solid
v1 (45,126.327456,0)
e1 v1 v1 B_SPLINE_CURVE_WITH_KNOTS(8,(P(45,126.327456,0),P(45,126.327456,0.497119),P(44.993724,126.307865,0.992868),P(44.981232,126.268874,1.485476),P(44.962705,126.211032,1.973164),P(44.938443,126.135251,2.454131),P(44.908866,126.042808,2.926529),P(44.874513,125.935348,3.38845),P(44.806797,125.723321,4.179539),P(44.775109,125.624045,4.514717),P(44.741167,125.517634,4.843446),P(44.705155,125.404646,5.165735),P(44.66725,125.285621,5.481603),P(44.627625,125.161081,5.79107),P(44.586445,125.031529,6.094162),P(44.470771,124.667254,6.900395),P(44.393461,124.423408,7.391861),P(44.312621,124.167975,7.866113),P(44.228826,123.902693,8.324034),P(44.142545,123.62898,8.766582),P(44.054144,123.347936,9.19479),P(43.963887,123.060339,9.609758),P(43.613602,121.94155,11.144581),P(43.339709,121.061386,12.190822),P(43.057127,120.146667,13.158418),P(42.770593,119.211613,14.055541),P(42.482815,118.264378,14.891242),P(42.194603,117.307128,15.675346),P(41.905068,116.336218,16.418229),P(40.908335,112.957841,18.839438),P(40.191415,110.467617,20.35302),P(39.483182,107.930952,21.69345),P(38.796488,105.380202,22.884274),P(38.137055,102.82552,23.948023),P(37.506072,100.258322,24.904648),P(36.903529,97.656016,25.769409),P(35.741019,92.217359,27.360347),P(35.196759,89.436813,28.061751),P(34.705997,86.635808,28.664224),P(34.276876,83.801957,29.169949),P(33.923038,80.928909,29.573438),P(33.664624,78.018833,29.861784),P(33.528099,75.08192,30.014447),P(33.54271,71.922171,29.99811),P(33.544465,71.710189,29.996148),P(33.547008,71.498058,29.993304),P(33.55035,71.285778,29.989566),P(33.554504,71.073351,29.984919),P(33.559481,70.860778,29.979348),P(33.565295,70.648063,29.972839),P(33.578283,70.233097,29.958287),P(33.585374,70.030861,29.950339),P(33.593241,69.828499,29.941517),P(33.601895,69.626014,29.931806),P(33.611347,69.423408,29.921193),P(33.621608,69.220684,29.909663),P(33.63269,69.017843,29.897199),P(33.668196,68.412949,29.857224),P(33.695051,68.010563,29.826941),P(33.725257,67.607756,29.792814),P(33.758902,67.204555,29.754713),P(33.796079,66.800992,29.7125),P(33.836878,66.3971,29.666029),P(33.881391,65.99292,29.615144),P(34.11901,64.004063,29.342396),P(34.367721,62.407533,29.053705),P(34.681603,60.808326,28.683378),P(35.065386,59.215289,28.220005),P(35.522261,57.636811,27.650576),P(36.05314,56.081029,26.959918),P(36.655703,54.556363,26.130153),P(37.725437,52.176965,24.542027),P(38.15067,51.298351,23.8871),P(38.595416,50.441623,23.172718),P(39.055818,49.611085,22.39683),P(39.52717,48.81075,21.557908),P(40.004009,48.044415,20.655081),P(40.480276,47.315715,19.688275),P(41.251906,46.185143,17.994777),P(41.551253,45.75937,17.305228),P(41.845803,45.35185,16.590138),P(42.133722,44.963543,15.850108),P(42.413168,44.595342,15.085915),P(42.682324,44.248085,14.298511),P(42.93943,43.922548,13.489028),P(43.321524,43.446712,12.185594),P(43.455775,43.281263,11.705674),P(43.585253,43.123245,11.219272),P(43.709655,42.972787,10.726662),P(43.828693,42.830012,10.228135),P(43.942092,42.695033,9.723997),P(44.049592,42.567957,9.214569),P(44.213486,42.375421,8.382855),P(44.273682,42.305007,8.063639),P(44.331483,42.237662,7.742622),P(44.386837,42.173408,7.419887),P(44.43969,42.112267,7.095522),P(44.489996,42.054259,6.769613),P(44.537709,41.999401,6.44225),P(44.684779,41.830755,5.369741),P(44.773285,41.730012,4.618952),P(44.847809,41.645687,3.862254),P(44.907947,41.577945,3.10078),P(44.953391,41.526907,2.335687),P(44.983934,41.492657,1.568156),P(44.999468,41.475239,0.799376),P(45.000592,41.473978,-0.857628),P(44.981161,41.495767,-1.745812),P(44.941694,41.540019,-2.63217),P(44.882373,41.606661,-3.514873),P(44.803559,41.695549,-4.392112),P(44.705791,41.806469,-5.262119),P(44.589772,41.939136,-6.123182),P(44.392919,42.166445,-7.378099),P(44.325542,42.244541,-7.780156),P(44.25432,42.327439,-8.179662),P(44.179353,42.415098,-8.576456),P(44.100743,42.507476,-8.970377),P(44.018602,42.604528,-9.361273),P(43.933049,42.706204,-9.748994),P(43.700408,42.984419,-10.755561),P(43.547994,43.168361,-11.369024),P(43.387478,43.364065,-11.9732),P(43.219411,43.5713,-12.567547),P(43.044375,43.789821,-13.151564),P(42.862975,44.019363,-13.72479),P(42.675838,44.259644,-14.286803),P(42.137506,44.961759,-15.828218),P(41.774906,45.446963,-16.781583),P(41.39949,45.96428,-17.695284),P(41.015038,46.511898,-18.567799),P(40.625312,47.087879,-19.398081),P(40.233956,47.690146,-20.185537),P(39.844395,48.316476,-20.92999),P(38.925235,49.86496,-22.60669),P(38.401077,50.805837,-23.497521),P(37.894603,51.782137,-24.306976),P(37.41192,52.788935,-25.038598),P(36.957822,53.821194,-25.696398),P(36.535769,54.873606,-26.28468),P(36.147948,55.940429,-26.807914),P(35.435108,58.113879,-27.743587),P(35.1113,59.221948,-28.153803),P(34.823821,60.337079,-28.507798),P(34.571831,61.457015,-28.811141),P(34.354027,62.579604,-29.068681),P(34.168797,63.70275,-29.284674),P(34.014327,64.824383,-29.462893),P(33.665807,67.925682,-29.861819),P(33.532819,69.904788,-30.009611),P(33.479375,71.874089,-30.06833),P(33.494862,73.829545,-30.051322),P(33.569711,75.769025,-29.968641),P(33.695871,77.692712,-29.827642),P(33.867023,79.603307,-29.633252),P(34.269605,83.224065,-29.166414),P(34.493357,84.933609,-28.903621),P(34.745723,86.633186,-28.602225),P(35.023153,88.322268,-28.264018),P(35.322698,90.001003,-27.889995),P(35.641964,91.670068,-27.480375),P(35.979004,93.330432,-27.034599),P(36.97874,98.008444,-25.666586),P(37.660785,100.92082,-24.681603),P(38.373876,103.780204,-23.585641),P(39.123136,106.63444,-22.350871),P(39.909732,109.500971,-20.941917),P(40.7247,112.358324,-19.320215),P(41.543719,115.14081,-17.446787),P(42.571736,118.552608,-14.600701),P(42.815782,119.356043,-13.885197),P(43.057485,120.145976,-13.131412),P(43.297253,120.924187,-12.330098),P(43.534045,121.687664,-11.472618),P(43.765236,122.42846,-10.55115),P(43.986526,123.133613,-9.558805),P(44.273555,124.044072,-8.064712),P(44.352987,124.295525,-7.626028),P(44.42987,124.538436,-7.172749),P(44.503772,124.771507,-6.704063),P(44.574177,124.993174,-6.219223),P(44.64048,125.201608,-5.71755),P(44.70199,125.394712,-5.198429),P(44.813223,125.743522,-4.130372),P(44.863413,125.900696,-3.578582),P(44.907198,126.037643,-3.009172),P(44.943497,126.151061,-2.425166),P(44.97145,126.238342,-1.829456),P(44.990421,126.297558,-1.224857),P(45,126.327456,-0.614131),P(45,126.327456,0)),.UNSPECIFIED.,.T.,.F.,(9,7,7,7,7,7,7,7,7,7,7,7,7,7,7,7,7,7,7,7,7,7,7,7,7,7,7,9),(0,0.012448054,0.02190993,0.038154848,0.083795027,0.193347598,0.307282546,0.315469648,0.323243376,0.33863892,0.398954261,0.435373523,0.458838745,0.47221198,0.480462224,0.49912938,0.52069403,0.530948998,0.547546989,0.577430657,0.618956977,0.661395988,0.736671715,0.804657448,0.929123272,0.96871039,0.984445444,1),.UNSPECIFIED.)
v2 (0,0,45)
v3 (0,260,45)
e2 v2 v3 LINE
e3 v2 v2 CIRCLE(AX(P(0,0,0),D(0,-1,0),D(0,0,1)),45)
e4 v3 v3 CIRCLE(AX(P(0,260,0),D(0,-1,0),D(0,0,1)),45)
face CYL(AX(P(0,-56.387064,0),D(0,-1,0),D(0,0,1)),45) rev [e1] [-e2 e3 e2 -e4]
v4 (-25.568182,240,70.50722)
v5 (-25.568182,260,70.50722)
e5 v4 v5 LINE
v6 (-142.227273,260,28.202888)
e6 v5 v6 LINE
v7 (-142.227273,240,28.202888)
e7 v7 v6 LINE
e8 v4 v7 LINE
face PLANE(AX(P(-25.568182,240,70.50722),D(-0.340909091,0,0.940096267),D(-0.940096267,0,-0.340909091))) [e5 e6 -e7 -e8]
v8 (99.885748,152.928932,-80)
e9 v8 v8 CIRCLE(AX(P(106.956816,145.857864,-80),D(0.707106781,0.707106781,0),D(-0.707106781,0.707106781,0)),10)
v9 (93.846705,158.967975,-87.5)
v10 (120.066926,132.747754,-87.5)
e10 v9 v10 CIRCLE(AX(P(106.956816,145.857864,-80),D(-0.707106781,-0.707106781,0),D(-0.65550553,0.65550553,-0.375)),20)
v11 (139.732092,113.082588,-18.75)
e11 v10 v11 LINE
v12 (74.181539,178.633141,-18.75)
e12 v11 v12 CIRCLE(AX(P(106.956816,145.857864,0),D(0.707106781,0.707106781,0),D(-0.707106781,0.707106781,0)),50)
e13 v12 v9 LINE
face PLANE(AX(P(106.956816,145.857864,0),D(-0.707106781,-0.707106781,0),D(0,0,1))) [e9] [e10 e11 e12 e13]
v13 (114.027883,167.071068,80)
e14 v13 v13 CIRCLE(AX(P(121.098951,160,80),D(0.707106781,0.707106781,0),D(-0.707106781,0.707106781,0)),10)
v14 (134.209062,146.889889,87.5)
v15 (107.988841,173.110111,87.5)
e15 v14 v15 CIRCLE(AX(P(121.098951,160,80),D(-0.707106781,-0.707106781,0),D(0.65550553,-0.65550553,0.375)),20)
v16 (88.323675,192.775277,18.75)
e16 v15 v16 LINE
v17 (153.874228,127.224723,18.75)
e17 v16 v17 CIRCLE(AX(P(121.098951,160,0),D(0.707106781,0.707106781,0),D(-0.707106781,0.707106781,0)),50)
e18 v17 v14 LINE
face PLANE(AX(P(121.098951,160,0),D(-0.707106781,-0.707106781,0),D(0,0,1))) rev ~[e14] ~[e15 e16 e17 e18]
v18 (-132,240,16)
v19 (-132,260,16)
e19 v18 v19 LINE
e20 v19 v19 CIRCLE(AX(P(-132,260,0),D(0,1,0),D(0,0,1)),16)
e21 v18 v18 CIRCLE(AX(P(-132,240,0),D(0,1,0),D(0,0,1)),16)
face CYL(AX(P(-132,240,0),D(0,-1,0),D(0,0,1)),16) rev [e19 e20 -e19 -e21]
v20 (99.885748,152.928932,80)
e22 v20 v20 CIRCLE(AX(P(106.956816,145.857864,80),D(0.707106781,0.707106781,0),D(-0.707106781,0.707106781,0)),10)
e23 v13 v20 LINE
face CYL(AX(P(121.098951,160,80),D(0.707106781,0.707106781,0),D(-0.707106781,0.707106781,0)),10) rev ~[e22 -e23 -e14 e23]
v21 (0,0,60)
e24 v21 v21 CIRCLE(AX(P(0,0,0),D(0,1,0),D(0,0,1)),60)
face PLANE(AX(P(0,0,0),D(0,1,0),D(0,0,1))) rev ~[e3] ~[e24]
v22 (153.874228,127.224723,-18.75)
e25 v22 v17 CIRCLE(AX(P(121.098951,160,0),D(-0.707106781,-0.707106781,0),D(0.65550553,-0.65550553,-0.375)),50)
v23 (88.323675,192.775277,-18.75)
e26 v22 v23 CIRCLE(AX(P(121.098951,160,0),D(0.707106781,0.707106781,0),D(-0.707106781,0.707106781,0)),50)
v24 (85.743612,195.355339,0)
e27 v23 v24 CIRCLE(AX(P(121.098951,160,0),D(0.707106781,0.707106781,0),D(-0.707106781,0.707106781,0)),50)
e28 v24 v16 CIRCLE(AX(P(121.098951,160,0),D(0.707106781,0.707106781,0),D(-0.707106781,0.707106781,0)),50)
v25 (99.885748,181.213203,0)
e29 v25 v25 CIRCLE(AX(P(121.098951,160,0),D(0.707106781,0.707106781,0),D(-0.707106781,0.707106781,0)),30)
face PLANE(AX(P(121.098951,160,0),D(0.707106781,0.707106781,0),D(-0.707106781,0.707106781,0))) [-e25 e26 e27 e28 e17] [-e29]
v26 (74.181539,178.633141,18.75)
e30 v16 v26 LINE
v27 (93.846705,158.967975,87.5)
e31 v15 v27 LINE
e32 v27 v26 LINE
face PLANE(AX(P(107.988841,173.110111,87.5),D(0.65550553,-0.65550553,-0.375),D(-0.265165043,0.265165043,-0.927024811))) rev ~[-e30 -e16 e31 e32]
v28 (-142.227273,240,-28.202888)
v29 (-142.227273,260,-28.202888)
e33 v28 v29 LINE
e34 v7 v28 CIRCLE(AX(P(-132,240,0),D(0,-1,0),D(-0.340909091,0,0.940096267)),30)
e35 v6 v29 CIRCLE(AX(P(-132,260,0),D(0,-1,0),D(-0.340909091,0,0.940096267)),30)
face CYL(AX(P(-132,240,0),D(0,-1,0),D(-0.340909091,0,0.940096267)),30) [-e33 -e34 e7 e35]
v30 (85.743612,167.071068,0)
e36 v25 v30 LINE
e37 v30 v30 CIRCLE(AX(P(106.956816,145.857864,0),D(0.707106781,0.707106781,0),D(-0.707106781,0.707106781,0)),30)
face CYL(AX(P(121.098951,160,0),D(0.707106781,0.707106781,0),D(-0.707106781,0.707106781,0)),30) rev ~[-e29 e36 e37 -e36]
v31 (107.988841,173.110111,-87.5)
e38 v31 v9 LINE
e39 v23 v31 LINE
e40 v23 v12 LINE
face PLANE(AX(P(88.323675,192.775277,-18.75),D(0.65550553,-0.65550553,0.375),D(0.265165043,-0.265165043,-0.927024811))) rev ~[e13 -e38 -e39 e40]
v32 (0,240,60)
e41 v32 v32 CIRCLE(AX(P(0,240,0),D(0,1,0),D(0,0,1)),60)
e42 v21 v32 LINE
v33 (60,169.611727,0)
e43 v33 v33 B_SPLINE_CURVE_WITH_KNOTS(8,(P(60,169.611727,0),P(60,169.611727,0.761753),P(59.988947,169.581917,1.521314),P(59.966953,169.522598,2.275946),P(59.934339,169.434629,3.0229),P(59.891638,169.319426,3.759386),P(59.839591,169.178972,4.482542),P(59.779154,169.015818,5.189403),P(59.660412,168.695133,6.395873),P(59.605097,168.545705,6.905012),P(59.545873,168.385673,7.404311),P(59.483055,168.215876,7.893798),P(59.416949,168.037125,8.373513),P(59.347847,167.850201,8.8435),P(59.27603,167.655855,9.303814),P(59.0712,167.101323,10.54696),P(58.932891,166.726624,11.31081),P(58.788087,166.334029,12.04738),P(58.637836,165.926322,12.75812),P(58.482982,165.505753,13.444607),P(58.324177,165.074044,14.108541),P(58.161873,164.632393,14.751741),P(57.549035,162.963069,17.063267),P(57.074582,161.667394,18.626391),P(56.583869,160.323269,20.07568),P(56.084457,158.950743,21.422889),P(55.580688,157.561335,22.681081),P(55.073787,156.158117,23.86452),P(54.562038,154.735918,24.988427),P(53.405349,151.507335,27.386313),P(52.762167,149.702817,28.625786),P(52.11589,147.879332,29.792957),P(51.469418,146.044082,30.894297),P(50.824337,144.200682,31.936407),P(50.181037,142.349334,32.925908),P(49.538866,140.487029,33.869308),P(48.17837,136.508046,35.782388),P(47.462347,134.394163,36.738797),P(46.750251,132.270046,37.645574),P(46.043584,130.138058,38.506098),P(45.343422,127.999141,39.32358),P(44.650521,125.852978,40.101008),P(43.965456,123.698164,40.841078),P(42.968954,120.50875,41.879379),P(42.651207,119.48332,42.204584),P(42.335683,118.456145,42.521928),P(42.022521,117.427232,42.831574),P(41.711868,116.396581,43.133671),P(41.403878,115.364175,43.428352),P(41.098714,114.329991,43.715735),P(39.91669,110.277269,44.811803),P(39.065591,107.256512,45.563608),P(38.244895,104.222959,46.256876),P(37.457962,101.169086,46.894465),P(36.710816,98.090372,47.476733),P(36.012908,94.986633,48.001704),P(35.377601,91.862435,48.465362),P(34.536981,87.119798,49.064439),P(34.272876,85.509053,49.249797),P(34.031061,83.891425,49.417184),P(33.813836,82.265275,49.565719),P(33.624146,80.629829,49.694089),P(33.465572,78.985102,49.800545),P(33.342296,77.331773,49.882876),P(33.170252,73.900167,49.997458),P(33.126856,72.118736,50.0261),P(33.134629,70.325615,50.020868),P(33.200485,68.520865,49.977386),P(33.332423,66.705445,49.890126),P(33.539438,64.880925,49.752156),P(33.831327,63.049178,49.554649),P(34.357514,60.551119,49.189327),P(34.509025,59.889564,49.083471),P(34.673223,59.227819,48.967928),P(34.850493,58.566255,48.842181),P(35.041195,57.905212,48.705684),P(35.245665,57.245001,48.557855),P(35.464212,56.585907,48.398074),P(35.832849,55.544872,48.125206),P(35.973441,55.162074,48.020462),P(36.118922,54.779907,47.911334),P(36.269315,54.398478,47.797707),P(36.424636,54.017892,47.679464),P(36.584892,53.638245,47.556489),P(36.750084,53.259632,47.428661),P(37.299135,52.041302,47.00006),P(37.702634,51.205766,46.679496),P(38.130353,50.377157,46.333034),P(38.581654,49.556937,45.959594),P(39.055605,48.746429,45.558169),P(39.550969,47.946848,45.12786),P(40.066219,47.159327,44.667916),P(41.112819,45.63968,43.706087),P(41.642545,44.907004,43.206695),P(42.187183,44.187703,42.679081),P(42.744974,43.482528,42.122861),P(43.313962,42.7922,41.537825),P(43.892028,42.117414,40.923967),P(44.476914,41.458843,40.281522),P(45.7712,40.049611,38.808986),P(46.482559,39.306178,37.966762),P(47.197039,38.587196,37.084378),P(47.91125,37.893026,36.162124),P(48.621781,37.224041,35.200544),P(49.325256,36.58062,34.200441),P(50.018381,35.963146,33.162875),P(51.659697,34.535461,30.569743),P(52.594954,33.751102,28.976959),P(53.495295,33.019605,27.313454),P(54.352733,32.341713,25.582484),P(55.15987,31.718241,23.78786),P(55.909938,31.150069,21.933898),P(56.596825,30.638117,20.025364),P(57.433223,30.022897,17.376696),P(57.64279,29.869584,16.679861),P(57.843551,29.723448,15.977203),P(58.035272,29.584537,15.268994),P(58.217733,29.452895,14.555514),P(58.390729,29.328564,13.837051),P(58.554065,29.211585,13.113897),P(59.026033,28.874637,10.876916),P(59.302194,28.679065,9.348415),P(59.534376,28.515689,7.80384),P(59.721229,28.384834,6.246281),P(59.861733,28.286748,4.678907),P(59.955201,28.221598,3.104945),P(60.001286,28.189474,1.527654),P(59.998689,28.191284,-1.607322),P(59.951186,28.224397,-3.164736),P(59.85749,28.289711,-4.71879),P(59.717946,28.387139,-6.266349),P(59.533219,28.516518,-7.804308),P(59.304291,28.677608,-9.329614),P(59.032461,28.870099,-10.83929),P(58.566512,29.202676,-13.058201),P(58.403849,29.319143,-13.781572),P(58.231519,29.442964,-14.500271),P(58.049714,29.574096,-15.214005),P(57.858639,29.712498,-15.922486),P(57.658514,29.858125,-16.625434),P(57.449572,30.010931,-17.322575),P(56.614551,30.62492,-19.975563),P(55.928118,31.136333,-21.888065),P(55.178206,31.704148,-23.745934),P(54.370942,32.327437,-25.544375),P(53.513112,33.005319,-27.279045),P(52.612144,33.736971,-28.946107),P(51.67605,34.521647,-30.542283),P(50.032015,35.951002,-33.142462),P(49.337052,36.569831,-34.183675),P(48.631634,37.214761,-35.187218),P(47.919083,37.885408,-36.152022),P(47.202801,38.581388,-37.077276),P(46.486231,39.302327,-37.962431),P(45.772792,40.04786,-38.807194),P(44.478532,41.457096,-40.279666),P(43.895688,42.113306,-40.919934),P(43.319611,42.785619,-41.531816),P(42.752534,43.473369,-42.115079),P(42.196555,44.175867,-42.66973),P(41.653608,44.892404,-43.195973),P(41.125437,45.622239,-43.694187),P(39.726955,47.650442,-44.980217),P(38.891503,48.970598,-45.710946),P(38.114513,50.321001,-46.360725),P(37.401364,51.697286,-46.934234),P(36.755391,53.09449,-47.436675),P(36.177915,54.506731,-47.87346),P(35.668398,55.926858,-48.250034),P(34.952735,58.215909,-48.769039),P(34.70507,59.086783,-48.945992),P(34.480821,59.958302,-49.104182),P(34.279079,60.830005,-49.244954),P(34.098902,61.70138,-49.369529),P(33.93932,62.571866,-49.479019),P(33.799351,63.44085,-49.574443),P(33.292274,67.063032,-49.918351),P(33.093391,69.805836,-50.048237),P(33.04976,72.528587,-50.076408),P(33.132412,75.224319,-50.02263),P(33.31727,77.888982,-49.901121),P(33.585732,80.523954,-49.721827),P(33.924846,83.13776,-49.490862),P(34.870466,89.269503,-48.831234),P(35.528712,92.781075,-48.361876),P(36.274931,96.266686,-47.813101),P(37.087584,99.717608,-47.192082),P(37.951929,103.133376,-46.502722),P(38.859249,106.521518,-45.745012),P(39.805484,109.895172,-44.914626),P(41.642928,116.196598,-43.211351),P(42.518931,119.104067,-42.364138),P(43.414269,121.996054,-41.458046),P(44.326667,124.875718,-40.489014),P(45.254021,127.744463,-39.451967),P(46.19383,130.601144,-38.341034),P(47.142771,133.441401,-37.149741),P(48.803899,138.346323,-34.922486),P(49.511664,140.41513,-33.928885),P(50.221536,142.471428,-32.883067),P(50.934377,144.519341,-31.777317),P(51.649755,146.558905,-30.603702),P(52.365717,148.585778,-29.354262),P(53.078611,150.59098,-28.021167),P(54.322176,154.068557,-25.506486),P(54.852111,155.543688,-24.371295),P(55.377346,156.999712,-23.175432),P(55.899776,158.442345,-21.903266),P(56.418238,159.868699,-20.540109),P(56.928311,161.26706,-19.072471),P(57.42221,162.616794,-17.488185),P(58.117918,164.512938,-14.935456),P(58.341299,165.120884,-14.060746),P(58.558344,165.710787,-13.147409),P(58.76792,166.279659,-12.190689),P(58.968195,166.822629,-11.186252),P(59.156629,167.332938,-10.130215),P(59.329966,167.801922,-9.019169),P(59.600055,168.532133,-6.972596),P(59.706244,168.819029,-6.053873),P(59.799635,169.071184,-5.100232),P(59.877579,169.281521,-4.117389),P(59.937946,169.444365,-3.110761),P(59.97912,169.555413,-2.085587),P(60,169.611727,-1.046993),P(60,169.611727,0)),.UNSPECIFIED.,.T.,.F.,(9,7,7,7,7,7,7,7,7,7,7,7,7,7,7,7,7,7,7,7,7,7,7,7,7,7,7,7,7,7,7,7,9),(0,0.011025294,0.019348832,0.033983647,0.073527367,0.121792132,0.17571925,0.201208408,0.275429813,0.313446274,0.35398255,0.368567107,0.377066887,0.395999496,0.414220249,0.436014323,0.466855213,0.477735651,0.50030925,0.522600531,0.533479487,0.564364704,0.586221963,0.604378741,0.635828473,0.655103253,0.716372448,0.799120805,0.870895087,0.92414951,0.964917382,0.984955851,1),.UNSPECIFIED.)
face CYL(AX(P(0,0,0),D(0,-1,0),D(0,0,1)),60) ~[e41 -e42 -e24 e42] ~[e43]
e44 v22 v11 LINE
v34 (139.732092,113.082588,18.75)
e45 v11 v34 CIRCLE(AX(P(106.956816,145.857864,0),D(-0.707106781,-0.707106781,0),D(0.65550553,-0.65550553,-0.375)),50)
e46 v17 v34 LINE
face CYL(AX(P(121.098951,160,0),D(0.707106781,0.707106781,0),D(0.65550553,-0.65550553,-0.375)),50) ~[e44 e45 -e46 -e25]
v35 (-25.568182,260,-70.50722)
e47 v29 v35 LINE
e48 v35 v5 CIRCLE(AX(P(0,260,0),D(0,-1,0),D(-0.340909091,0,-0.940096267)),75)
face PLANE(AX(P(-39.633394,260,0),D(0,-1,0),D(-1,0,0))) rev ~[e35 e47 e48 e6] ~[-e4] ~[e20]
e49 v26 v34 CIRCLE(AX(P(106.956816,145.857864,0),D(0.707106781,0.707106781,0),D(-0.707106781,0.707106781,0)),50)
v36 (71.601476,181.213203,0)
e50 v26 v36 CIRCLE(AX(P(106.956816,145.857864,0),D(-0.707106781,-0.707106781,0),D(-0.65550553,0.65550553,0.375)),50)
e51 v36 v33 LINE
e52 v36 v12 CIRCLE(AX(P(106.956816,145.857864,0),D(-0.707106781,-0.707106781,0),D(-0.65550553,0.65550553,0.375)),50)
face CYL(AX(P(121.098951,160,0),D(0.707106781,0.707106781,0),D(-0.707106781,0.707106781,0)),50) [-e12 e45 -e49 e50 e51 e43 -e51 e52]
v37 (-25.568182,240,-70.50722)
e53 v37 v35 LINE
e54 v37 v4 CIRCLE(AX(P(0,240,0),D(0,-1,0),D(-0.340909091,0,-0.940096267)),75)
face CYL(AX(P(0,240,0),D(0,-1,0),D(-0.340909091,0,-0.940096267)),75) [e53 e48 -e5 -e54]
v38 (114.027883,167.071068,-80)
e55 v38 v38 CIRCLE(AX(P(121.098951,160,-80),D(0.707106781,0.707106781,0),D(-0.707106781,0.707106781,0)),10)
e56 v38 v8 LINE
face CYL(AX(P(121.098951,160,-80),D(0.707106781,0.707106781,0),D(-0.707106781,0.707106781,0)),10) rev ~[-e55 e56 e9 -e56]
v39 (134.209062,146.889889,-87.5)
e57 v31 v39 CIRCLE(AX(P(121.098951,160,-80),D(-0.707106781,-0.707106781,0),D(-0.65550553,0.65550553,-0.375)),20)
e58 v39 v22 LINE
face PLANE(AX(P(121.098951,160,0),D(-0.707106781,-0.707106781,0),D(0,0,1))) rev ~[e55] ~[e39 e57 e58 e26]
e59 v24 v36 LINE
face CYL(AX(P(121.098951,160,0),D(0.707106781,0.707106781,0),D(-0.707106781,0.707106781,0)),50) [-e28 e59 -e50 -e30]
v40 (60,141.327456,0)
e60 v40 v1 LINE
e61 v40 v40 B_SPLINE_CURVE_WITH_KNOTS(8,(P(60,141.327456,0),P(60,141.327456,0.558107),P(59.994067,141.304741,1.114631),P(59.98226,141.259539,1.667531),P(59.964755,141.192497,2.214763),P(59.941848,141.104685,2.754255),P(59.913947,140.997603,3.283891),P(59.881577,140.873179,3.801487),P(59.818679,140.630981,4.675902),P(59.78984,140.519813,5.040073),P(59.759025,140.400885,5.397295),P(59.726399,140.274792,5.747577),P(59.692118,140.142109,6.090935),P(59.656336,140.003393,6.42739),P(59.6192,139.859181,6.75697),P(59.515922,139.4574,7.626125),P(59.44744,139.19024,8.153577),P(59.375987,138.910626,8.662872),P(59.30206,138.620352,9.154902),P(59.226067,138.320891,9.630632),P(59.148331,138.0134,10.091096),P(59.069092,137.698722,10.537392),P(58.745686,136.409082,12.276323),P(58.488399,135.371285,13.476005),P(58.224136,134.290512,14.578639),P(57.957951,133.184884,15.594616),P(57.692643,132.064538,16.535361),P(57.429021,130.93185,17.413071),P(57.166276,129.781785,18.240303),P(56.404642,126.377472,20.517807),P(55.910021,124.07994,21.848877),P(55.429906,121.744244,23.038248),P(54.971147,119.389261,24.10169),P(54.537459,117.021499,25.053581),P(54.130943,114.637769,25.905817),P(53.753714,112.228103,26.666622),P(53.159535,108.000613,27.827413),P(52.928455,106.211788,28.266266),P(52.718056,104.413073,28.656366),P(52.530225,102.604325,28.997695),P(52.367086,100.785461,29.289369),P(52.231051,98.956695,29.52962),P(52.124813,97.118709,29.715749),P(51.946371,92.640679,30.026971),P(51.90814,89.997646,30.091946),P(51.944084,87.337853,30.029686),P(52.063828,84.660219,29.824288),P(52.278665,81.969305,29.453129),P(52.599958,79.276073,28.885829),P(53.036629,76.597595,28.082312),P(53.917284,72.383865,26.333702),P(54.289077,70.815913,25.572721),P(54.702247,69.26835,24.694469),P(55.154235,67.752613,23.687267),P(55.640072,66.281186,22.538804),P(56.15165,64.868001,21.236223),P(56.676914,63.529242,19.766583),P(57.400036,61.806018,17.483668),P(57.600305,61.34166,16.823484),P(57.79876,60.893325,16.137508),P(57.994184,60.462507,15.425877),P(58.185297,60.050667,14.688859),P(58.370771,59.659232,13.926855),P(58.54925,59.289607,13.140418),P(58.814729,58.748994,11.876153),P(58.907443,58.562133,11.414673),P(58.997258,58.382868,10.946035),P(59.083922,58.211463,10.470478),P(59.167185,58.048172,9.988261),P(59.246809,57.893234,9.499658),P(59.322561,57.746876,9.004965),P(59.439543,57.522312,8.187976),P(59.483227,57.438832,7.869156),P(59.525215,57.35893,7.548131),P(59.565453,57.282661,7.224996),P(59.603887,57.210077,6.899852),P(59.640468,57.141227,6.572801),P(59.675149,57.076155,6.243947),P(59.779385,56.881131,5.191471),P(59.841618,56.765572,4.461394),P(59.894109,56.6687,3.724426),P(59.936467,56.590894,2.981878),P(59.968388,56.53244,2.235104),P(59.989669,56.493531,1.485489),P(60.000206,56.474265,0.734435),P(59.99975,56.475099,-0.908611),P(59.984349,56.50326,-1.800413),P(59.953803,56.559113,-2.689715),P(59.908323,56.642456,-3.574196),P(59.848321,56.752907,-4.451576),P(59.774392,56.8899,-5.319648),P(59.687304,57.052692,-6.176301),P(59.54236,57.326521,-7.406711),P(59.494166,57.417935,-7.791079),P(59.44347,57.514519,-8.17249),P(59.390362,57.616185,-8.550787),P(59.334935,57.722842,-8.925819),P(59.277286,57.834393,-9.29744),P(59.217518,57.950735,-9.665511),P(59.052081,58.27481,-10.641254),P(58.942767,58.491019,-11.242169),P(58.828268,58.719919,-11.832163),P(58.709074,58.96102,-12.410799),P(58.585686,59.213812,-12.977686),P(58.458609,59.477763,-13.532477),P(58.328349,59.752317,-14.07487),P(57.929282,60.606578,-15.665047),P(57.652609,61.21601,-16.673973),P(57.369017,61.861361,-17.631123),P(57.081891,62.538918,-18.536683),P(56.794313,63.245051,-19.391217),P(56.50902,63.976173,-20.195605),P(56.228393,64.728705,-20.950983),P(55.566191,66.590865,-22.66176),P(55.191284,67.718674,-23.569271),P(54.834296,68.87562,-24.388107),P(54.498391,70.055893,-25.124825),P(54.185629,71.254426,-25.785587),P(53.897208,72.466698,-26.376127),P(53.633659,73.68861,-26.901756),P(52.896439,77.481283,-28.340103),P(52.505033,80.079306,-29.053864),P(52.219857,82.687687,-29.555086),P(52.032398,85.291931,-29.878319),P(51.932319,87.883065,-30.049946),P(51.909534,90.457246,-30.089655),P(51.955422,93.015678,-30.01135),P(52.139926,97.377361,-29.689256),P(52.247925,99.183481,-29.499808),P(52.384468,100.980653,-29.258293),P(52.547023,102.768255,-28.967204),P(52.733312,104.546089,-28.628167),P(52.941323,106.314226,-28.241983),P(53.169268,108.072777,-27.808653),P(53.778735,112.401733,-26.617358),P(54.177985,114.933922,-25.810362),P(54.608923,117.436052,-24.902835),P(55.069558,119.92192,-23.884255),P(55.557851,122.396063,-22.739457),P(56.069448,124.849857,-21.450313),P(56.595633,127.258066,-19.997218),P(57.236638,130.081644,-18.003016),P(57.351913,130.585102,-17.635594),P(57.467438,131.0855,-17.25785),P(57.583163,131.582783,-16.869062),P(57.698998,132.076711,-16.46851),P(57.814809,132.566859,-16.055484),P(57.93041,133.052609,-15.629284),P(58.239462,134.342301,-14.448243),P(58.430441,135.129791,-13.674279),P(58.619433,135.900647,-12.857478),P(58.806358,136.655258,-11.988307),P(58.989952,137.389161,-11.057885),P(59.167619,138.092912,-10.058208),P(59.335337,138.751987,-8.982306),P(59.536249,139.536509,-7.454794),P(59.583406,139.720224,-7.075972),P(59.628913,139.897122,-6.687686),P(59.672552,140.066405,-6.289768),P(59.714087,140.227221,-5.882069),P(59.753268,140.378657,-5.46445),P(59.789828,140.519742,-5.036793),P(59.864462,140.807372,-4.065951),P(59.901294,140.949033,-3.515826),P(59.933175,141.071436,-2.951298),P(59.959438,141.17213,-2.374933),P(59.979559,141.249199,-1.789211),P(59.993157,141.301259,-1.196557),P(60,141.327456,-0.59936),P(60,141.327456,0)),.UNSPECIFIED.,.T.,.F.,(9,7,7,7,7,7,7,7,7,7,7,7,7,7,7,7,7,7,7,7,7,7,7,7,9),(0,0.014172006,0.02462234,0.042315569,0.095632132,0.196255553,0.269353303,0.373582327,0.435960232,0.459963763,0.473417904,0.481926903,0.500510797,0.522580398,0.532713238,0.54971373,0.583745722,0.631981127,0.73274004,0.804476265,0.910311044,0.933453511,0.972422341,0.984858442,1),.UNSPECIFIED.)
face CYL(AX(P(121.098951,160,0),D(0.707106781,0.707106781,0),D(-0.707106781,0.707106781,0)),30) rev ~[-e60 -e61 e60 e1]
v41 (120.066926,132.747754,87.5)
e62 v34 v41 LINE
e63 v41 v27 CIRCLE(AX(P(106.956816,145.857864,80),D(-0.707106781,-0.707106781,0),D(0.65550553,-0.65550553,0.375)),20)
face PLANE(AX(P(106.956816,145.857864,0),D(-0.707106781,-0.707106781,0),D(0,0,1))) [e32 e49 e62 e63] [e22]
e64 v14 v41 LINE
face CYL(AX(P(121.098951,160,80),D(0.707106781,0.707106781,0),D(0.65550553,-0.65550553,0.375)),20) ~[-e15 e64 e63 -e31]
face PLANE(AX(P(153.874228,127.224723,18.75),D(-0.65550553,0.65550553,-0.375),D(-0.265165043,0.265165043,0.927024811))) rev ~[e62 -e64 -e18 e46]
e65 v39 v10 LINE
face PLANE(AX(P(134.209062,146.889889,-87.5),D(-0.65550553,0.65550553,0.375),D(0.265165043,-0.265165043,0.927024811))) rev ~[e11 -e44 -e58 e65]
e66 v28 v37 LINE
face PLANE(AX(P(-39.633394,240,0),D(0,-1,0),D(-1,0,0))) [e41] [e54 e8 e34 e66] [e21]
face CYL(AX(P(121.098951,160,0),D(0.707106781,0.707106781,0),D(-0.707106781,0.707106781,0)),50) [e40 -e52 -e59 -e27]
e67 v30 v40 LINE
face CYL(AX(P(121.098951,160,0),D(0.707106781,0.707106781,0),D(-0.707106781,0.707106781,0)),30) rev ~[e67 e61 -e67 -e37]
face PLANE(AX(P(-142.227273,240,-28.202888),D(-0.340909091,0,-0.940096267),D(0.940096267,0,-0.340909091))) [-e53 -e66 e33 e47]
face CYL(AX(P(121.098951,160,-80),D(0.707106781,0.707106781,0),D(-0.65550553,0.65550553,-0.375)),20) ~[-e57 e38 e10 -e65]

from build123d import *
from build123d.topology import SkipClean

# Parameters (mm, degrees)
SKETCH_1_R                      = 60
EXTRUDE_1_DEPTH                 = 240
SKETCH_2_R                      = 16
EXTRUDE_2_DEPTH                 = 20
CUT_EXTRUDE_1_DEPTH             = 316.38706378
CUT_EXTRUDE_1_DEPTH_BACK        = 316.38706378
SKETCH_6_R                      = 45
EXTRUDE_3_REACH                 = 335.721
EXTRUDE_3_END_RADIUS            = 60
SKETCH_5_R                      = 50
SKETCH_5_R_2                    = 30
CUT_EXTRUDE_2_REACH             = 343.929
SKETCH_8_R                      = 30
CUT_EXTRUDE_2_DIRECTION_2_DEPTH = 342.928852652
SKETCH_9_R                      = 10
SKETCH_9_R_2                    = 30
EXTRUDE_4_DEPTH                 = 20


with BuildPart() as part:
    # 草图1 → 凸台-拉伸1 (new body)
    with BuildSketch(Plane(origin=(0, 0, 0), x_dir=(1, 0, 0), z_dir=(0, 1, 0))):
        with Locations(Location((0, 0, 0), (0, 0, 270))):
            Circle(SKETCH_1_R)
    extrude(amount=EXTRUDE_1_DEPTH)

    # 草图2 → 凸台-拉伸2 (add)
    with BuildSketch(Plane(origin=(0, 240, 0), x_dir=(1, 0, 0), z_dir=(0, 1, 0))):
        with BuildLine():
            Line((-142.227272727, 28.202888018), (-25.568181818, 70.507220045))
            ThreePointArc((-25.568181818, 70.507220045), (75, 0), (-25.568181818, -70.507220045))
            Line((-25.568181818, -70.507220045), (-142.227272727, -28.202888018))
            ThreePointArc((-142.227272727, -28.202888018), (-162, 0), (-142.227272727, 28.202888018))
        make_face()
        with Locations(Location((-132, 0, 0), (0, 0, 270))):
            Circle(SKETCH_2_R, mode=Mode.SUBTRACT)
    extrude(amount=EXTRUDE_2_DEPTH)

    # 草图6 → 切除-拉伸1 (cut, two sides: drawn at the far end of the back side and taken through both)
    with BuildSketch(Plane(origin=(0, 260, 0), x_dir=(1, 0, 0), z_dir=(0, 1, 0)).offset(-CUT_EXTRUDE_1_DEPTH_BACK)):
        with Locations(Location((0, 0, 0), (0, 0, 270))):
            Circle(SKETCH_6_R)
    extrude(amount=CUT_EXTRUDE_1_DEPTH + CUT_EXTRUDE_1_DEPTH_BACK, mode=Mode.SUBTRACT)

    # 凸台-拉伸3: up to this cylinder (the profile starts outside it)
    extrude_3_end = Plane(origin=(0, 125.644661, 0), z_dir=(0, -1, 0)) * Cylinder(EXTRUDE_3_END_RADIUS, 792.442, mode=Mode.PRIVATE)
    # 草图5 → 凸台-拉伸3 (add, up to the surface)
    with BuildSketch(Plane(origin=(121.098951134, 160, 0), x_dir=(0.7071067811865488, -0.7071067811865464, 0), z_dir=(0.7071067811865464, 0.7071067811865488, 0)), mode=Mode.PRIVATE) as extrude_3_sk1:
        with Locations(Location((0, 0, 0), (0, 0, 180))):
            Circle(SKETCH_5_R)
        with Locations(Location((0, 0, 0), (0, 0, 180))):
            Circle(SKETCH_5_R_2, mode=Mode.SUBTRACT)
    extrude_3_tool1 = extrude(extrude_3_sk1.sketch, amount=-EXTRUDE_3_REACH, mode=Mode.PRIVATE) - extrude_3_end
    add(extrude_3_tool1.solids().sort_by_distance((155.45429, 125.644661, 0))[0])

    # 草图8 → 切除-拉伸2 (cut, up to next)
    with BuildSketch(Plane(origin=(140.549475567, 140.549475567, 0), x_dir=(0, 0, -1), z_dir=(0.7071067811865465, 0.7071067811865487, 0)), mode=Mode.PRIVATE) as cut_extrude_2_sk1:
        with Locations(Location((0, 27.507195448, 0), (0, 0, 90))):
            Circle(SKETCH_8_R)
    cut_extrude_2_tool1 = extrude(cut_extrude_2_sk1.sketch, amount=-CUT_EXTRUDE_2_REACH, mode=Mode.PRIVATE) & part.part
    add(cut_extrude_2_tool1.solids().sort_by_distance((121.098951, 160, 0))[0], mode=Mode.SUBTRACT)

    # 草图8 → 切除-拉伸2 direction 2 (cut)
    with BuildSketch(Plane(origin=(140.549475567, 140.549475567, 0), x_dir=(0, 0, -1), z_dir=(0.7071067811865465, 0.7071067811865487, 0))):
        with Locations(Location((0, 27.507195448, 0), (0, 0, 90))):
            Circle(SKETCH_8_R)
    extrude(amount=CUT_EXTRUDE_2_DIRECTION_2_DEPTH, mode=Mode.SUBTRACT)

    # 草图9 → 凸台-拉伸4 (add)
    with SkipClean():  # the faces are left unmerged after this step: merging them gives an invalid solid
        with BuildSketch(Plane(origin=(140.549475567, 140.549475567, 0), x_dir=(0, 0, -1), z_dir=(0.7071067811865465, 0.7071067811865487, 0))):
            with BuildLine():
                Line((-87.5, 46.047691666), (-18.75, 73.858435993))
                ThreePointArc((-18.75, 73.858435993), (0, 77.507195448), (18.75, 73.858435993))
                Line((18.75, 73.858435993), (87.5, 46.047691666))
                ThreePointArc((87.5, 46.047691666), (100, 27.507195448), (87.5, 8.966699231))
                Line((87.5, 8.966699231), (18.75, -18.844045096))
                ThreePointArc((18.75, -18.844045096), (0, -22.492804552), (-18.75, -18.844045096))
                Line((-18.75, -18.844045096), (-87.5, 8.966699231))
                ThreePointArc((-87.5, 8.966699231), (-100, 27.507195448), (-87.5, 46.047691666))
            make_face()
            with Locations(Location((-80, 27.507195448, 0), (0, 0, 90))):
                Circle(SKETCH_9_R, mode=Mode.SUBTRACT)
            with Locations(Location((80, 27.507195448, 0), (0, 0, 90))):
                Circle(SKETCH_9_R, mode=Mode.SUBTRACT)
            with Locations(Location((0, 27.507195448, 0), (0, 0, 90))):
                Circle(SKETCH_9_R_2, mode=Mode.SUBTRACT)
        extrude(amount=-EXTRUDE_4_DEPTH)


solid = part.part
